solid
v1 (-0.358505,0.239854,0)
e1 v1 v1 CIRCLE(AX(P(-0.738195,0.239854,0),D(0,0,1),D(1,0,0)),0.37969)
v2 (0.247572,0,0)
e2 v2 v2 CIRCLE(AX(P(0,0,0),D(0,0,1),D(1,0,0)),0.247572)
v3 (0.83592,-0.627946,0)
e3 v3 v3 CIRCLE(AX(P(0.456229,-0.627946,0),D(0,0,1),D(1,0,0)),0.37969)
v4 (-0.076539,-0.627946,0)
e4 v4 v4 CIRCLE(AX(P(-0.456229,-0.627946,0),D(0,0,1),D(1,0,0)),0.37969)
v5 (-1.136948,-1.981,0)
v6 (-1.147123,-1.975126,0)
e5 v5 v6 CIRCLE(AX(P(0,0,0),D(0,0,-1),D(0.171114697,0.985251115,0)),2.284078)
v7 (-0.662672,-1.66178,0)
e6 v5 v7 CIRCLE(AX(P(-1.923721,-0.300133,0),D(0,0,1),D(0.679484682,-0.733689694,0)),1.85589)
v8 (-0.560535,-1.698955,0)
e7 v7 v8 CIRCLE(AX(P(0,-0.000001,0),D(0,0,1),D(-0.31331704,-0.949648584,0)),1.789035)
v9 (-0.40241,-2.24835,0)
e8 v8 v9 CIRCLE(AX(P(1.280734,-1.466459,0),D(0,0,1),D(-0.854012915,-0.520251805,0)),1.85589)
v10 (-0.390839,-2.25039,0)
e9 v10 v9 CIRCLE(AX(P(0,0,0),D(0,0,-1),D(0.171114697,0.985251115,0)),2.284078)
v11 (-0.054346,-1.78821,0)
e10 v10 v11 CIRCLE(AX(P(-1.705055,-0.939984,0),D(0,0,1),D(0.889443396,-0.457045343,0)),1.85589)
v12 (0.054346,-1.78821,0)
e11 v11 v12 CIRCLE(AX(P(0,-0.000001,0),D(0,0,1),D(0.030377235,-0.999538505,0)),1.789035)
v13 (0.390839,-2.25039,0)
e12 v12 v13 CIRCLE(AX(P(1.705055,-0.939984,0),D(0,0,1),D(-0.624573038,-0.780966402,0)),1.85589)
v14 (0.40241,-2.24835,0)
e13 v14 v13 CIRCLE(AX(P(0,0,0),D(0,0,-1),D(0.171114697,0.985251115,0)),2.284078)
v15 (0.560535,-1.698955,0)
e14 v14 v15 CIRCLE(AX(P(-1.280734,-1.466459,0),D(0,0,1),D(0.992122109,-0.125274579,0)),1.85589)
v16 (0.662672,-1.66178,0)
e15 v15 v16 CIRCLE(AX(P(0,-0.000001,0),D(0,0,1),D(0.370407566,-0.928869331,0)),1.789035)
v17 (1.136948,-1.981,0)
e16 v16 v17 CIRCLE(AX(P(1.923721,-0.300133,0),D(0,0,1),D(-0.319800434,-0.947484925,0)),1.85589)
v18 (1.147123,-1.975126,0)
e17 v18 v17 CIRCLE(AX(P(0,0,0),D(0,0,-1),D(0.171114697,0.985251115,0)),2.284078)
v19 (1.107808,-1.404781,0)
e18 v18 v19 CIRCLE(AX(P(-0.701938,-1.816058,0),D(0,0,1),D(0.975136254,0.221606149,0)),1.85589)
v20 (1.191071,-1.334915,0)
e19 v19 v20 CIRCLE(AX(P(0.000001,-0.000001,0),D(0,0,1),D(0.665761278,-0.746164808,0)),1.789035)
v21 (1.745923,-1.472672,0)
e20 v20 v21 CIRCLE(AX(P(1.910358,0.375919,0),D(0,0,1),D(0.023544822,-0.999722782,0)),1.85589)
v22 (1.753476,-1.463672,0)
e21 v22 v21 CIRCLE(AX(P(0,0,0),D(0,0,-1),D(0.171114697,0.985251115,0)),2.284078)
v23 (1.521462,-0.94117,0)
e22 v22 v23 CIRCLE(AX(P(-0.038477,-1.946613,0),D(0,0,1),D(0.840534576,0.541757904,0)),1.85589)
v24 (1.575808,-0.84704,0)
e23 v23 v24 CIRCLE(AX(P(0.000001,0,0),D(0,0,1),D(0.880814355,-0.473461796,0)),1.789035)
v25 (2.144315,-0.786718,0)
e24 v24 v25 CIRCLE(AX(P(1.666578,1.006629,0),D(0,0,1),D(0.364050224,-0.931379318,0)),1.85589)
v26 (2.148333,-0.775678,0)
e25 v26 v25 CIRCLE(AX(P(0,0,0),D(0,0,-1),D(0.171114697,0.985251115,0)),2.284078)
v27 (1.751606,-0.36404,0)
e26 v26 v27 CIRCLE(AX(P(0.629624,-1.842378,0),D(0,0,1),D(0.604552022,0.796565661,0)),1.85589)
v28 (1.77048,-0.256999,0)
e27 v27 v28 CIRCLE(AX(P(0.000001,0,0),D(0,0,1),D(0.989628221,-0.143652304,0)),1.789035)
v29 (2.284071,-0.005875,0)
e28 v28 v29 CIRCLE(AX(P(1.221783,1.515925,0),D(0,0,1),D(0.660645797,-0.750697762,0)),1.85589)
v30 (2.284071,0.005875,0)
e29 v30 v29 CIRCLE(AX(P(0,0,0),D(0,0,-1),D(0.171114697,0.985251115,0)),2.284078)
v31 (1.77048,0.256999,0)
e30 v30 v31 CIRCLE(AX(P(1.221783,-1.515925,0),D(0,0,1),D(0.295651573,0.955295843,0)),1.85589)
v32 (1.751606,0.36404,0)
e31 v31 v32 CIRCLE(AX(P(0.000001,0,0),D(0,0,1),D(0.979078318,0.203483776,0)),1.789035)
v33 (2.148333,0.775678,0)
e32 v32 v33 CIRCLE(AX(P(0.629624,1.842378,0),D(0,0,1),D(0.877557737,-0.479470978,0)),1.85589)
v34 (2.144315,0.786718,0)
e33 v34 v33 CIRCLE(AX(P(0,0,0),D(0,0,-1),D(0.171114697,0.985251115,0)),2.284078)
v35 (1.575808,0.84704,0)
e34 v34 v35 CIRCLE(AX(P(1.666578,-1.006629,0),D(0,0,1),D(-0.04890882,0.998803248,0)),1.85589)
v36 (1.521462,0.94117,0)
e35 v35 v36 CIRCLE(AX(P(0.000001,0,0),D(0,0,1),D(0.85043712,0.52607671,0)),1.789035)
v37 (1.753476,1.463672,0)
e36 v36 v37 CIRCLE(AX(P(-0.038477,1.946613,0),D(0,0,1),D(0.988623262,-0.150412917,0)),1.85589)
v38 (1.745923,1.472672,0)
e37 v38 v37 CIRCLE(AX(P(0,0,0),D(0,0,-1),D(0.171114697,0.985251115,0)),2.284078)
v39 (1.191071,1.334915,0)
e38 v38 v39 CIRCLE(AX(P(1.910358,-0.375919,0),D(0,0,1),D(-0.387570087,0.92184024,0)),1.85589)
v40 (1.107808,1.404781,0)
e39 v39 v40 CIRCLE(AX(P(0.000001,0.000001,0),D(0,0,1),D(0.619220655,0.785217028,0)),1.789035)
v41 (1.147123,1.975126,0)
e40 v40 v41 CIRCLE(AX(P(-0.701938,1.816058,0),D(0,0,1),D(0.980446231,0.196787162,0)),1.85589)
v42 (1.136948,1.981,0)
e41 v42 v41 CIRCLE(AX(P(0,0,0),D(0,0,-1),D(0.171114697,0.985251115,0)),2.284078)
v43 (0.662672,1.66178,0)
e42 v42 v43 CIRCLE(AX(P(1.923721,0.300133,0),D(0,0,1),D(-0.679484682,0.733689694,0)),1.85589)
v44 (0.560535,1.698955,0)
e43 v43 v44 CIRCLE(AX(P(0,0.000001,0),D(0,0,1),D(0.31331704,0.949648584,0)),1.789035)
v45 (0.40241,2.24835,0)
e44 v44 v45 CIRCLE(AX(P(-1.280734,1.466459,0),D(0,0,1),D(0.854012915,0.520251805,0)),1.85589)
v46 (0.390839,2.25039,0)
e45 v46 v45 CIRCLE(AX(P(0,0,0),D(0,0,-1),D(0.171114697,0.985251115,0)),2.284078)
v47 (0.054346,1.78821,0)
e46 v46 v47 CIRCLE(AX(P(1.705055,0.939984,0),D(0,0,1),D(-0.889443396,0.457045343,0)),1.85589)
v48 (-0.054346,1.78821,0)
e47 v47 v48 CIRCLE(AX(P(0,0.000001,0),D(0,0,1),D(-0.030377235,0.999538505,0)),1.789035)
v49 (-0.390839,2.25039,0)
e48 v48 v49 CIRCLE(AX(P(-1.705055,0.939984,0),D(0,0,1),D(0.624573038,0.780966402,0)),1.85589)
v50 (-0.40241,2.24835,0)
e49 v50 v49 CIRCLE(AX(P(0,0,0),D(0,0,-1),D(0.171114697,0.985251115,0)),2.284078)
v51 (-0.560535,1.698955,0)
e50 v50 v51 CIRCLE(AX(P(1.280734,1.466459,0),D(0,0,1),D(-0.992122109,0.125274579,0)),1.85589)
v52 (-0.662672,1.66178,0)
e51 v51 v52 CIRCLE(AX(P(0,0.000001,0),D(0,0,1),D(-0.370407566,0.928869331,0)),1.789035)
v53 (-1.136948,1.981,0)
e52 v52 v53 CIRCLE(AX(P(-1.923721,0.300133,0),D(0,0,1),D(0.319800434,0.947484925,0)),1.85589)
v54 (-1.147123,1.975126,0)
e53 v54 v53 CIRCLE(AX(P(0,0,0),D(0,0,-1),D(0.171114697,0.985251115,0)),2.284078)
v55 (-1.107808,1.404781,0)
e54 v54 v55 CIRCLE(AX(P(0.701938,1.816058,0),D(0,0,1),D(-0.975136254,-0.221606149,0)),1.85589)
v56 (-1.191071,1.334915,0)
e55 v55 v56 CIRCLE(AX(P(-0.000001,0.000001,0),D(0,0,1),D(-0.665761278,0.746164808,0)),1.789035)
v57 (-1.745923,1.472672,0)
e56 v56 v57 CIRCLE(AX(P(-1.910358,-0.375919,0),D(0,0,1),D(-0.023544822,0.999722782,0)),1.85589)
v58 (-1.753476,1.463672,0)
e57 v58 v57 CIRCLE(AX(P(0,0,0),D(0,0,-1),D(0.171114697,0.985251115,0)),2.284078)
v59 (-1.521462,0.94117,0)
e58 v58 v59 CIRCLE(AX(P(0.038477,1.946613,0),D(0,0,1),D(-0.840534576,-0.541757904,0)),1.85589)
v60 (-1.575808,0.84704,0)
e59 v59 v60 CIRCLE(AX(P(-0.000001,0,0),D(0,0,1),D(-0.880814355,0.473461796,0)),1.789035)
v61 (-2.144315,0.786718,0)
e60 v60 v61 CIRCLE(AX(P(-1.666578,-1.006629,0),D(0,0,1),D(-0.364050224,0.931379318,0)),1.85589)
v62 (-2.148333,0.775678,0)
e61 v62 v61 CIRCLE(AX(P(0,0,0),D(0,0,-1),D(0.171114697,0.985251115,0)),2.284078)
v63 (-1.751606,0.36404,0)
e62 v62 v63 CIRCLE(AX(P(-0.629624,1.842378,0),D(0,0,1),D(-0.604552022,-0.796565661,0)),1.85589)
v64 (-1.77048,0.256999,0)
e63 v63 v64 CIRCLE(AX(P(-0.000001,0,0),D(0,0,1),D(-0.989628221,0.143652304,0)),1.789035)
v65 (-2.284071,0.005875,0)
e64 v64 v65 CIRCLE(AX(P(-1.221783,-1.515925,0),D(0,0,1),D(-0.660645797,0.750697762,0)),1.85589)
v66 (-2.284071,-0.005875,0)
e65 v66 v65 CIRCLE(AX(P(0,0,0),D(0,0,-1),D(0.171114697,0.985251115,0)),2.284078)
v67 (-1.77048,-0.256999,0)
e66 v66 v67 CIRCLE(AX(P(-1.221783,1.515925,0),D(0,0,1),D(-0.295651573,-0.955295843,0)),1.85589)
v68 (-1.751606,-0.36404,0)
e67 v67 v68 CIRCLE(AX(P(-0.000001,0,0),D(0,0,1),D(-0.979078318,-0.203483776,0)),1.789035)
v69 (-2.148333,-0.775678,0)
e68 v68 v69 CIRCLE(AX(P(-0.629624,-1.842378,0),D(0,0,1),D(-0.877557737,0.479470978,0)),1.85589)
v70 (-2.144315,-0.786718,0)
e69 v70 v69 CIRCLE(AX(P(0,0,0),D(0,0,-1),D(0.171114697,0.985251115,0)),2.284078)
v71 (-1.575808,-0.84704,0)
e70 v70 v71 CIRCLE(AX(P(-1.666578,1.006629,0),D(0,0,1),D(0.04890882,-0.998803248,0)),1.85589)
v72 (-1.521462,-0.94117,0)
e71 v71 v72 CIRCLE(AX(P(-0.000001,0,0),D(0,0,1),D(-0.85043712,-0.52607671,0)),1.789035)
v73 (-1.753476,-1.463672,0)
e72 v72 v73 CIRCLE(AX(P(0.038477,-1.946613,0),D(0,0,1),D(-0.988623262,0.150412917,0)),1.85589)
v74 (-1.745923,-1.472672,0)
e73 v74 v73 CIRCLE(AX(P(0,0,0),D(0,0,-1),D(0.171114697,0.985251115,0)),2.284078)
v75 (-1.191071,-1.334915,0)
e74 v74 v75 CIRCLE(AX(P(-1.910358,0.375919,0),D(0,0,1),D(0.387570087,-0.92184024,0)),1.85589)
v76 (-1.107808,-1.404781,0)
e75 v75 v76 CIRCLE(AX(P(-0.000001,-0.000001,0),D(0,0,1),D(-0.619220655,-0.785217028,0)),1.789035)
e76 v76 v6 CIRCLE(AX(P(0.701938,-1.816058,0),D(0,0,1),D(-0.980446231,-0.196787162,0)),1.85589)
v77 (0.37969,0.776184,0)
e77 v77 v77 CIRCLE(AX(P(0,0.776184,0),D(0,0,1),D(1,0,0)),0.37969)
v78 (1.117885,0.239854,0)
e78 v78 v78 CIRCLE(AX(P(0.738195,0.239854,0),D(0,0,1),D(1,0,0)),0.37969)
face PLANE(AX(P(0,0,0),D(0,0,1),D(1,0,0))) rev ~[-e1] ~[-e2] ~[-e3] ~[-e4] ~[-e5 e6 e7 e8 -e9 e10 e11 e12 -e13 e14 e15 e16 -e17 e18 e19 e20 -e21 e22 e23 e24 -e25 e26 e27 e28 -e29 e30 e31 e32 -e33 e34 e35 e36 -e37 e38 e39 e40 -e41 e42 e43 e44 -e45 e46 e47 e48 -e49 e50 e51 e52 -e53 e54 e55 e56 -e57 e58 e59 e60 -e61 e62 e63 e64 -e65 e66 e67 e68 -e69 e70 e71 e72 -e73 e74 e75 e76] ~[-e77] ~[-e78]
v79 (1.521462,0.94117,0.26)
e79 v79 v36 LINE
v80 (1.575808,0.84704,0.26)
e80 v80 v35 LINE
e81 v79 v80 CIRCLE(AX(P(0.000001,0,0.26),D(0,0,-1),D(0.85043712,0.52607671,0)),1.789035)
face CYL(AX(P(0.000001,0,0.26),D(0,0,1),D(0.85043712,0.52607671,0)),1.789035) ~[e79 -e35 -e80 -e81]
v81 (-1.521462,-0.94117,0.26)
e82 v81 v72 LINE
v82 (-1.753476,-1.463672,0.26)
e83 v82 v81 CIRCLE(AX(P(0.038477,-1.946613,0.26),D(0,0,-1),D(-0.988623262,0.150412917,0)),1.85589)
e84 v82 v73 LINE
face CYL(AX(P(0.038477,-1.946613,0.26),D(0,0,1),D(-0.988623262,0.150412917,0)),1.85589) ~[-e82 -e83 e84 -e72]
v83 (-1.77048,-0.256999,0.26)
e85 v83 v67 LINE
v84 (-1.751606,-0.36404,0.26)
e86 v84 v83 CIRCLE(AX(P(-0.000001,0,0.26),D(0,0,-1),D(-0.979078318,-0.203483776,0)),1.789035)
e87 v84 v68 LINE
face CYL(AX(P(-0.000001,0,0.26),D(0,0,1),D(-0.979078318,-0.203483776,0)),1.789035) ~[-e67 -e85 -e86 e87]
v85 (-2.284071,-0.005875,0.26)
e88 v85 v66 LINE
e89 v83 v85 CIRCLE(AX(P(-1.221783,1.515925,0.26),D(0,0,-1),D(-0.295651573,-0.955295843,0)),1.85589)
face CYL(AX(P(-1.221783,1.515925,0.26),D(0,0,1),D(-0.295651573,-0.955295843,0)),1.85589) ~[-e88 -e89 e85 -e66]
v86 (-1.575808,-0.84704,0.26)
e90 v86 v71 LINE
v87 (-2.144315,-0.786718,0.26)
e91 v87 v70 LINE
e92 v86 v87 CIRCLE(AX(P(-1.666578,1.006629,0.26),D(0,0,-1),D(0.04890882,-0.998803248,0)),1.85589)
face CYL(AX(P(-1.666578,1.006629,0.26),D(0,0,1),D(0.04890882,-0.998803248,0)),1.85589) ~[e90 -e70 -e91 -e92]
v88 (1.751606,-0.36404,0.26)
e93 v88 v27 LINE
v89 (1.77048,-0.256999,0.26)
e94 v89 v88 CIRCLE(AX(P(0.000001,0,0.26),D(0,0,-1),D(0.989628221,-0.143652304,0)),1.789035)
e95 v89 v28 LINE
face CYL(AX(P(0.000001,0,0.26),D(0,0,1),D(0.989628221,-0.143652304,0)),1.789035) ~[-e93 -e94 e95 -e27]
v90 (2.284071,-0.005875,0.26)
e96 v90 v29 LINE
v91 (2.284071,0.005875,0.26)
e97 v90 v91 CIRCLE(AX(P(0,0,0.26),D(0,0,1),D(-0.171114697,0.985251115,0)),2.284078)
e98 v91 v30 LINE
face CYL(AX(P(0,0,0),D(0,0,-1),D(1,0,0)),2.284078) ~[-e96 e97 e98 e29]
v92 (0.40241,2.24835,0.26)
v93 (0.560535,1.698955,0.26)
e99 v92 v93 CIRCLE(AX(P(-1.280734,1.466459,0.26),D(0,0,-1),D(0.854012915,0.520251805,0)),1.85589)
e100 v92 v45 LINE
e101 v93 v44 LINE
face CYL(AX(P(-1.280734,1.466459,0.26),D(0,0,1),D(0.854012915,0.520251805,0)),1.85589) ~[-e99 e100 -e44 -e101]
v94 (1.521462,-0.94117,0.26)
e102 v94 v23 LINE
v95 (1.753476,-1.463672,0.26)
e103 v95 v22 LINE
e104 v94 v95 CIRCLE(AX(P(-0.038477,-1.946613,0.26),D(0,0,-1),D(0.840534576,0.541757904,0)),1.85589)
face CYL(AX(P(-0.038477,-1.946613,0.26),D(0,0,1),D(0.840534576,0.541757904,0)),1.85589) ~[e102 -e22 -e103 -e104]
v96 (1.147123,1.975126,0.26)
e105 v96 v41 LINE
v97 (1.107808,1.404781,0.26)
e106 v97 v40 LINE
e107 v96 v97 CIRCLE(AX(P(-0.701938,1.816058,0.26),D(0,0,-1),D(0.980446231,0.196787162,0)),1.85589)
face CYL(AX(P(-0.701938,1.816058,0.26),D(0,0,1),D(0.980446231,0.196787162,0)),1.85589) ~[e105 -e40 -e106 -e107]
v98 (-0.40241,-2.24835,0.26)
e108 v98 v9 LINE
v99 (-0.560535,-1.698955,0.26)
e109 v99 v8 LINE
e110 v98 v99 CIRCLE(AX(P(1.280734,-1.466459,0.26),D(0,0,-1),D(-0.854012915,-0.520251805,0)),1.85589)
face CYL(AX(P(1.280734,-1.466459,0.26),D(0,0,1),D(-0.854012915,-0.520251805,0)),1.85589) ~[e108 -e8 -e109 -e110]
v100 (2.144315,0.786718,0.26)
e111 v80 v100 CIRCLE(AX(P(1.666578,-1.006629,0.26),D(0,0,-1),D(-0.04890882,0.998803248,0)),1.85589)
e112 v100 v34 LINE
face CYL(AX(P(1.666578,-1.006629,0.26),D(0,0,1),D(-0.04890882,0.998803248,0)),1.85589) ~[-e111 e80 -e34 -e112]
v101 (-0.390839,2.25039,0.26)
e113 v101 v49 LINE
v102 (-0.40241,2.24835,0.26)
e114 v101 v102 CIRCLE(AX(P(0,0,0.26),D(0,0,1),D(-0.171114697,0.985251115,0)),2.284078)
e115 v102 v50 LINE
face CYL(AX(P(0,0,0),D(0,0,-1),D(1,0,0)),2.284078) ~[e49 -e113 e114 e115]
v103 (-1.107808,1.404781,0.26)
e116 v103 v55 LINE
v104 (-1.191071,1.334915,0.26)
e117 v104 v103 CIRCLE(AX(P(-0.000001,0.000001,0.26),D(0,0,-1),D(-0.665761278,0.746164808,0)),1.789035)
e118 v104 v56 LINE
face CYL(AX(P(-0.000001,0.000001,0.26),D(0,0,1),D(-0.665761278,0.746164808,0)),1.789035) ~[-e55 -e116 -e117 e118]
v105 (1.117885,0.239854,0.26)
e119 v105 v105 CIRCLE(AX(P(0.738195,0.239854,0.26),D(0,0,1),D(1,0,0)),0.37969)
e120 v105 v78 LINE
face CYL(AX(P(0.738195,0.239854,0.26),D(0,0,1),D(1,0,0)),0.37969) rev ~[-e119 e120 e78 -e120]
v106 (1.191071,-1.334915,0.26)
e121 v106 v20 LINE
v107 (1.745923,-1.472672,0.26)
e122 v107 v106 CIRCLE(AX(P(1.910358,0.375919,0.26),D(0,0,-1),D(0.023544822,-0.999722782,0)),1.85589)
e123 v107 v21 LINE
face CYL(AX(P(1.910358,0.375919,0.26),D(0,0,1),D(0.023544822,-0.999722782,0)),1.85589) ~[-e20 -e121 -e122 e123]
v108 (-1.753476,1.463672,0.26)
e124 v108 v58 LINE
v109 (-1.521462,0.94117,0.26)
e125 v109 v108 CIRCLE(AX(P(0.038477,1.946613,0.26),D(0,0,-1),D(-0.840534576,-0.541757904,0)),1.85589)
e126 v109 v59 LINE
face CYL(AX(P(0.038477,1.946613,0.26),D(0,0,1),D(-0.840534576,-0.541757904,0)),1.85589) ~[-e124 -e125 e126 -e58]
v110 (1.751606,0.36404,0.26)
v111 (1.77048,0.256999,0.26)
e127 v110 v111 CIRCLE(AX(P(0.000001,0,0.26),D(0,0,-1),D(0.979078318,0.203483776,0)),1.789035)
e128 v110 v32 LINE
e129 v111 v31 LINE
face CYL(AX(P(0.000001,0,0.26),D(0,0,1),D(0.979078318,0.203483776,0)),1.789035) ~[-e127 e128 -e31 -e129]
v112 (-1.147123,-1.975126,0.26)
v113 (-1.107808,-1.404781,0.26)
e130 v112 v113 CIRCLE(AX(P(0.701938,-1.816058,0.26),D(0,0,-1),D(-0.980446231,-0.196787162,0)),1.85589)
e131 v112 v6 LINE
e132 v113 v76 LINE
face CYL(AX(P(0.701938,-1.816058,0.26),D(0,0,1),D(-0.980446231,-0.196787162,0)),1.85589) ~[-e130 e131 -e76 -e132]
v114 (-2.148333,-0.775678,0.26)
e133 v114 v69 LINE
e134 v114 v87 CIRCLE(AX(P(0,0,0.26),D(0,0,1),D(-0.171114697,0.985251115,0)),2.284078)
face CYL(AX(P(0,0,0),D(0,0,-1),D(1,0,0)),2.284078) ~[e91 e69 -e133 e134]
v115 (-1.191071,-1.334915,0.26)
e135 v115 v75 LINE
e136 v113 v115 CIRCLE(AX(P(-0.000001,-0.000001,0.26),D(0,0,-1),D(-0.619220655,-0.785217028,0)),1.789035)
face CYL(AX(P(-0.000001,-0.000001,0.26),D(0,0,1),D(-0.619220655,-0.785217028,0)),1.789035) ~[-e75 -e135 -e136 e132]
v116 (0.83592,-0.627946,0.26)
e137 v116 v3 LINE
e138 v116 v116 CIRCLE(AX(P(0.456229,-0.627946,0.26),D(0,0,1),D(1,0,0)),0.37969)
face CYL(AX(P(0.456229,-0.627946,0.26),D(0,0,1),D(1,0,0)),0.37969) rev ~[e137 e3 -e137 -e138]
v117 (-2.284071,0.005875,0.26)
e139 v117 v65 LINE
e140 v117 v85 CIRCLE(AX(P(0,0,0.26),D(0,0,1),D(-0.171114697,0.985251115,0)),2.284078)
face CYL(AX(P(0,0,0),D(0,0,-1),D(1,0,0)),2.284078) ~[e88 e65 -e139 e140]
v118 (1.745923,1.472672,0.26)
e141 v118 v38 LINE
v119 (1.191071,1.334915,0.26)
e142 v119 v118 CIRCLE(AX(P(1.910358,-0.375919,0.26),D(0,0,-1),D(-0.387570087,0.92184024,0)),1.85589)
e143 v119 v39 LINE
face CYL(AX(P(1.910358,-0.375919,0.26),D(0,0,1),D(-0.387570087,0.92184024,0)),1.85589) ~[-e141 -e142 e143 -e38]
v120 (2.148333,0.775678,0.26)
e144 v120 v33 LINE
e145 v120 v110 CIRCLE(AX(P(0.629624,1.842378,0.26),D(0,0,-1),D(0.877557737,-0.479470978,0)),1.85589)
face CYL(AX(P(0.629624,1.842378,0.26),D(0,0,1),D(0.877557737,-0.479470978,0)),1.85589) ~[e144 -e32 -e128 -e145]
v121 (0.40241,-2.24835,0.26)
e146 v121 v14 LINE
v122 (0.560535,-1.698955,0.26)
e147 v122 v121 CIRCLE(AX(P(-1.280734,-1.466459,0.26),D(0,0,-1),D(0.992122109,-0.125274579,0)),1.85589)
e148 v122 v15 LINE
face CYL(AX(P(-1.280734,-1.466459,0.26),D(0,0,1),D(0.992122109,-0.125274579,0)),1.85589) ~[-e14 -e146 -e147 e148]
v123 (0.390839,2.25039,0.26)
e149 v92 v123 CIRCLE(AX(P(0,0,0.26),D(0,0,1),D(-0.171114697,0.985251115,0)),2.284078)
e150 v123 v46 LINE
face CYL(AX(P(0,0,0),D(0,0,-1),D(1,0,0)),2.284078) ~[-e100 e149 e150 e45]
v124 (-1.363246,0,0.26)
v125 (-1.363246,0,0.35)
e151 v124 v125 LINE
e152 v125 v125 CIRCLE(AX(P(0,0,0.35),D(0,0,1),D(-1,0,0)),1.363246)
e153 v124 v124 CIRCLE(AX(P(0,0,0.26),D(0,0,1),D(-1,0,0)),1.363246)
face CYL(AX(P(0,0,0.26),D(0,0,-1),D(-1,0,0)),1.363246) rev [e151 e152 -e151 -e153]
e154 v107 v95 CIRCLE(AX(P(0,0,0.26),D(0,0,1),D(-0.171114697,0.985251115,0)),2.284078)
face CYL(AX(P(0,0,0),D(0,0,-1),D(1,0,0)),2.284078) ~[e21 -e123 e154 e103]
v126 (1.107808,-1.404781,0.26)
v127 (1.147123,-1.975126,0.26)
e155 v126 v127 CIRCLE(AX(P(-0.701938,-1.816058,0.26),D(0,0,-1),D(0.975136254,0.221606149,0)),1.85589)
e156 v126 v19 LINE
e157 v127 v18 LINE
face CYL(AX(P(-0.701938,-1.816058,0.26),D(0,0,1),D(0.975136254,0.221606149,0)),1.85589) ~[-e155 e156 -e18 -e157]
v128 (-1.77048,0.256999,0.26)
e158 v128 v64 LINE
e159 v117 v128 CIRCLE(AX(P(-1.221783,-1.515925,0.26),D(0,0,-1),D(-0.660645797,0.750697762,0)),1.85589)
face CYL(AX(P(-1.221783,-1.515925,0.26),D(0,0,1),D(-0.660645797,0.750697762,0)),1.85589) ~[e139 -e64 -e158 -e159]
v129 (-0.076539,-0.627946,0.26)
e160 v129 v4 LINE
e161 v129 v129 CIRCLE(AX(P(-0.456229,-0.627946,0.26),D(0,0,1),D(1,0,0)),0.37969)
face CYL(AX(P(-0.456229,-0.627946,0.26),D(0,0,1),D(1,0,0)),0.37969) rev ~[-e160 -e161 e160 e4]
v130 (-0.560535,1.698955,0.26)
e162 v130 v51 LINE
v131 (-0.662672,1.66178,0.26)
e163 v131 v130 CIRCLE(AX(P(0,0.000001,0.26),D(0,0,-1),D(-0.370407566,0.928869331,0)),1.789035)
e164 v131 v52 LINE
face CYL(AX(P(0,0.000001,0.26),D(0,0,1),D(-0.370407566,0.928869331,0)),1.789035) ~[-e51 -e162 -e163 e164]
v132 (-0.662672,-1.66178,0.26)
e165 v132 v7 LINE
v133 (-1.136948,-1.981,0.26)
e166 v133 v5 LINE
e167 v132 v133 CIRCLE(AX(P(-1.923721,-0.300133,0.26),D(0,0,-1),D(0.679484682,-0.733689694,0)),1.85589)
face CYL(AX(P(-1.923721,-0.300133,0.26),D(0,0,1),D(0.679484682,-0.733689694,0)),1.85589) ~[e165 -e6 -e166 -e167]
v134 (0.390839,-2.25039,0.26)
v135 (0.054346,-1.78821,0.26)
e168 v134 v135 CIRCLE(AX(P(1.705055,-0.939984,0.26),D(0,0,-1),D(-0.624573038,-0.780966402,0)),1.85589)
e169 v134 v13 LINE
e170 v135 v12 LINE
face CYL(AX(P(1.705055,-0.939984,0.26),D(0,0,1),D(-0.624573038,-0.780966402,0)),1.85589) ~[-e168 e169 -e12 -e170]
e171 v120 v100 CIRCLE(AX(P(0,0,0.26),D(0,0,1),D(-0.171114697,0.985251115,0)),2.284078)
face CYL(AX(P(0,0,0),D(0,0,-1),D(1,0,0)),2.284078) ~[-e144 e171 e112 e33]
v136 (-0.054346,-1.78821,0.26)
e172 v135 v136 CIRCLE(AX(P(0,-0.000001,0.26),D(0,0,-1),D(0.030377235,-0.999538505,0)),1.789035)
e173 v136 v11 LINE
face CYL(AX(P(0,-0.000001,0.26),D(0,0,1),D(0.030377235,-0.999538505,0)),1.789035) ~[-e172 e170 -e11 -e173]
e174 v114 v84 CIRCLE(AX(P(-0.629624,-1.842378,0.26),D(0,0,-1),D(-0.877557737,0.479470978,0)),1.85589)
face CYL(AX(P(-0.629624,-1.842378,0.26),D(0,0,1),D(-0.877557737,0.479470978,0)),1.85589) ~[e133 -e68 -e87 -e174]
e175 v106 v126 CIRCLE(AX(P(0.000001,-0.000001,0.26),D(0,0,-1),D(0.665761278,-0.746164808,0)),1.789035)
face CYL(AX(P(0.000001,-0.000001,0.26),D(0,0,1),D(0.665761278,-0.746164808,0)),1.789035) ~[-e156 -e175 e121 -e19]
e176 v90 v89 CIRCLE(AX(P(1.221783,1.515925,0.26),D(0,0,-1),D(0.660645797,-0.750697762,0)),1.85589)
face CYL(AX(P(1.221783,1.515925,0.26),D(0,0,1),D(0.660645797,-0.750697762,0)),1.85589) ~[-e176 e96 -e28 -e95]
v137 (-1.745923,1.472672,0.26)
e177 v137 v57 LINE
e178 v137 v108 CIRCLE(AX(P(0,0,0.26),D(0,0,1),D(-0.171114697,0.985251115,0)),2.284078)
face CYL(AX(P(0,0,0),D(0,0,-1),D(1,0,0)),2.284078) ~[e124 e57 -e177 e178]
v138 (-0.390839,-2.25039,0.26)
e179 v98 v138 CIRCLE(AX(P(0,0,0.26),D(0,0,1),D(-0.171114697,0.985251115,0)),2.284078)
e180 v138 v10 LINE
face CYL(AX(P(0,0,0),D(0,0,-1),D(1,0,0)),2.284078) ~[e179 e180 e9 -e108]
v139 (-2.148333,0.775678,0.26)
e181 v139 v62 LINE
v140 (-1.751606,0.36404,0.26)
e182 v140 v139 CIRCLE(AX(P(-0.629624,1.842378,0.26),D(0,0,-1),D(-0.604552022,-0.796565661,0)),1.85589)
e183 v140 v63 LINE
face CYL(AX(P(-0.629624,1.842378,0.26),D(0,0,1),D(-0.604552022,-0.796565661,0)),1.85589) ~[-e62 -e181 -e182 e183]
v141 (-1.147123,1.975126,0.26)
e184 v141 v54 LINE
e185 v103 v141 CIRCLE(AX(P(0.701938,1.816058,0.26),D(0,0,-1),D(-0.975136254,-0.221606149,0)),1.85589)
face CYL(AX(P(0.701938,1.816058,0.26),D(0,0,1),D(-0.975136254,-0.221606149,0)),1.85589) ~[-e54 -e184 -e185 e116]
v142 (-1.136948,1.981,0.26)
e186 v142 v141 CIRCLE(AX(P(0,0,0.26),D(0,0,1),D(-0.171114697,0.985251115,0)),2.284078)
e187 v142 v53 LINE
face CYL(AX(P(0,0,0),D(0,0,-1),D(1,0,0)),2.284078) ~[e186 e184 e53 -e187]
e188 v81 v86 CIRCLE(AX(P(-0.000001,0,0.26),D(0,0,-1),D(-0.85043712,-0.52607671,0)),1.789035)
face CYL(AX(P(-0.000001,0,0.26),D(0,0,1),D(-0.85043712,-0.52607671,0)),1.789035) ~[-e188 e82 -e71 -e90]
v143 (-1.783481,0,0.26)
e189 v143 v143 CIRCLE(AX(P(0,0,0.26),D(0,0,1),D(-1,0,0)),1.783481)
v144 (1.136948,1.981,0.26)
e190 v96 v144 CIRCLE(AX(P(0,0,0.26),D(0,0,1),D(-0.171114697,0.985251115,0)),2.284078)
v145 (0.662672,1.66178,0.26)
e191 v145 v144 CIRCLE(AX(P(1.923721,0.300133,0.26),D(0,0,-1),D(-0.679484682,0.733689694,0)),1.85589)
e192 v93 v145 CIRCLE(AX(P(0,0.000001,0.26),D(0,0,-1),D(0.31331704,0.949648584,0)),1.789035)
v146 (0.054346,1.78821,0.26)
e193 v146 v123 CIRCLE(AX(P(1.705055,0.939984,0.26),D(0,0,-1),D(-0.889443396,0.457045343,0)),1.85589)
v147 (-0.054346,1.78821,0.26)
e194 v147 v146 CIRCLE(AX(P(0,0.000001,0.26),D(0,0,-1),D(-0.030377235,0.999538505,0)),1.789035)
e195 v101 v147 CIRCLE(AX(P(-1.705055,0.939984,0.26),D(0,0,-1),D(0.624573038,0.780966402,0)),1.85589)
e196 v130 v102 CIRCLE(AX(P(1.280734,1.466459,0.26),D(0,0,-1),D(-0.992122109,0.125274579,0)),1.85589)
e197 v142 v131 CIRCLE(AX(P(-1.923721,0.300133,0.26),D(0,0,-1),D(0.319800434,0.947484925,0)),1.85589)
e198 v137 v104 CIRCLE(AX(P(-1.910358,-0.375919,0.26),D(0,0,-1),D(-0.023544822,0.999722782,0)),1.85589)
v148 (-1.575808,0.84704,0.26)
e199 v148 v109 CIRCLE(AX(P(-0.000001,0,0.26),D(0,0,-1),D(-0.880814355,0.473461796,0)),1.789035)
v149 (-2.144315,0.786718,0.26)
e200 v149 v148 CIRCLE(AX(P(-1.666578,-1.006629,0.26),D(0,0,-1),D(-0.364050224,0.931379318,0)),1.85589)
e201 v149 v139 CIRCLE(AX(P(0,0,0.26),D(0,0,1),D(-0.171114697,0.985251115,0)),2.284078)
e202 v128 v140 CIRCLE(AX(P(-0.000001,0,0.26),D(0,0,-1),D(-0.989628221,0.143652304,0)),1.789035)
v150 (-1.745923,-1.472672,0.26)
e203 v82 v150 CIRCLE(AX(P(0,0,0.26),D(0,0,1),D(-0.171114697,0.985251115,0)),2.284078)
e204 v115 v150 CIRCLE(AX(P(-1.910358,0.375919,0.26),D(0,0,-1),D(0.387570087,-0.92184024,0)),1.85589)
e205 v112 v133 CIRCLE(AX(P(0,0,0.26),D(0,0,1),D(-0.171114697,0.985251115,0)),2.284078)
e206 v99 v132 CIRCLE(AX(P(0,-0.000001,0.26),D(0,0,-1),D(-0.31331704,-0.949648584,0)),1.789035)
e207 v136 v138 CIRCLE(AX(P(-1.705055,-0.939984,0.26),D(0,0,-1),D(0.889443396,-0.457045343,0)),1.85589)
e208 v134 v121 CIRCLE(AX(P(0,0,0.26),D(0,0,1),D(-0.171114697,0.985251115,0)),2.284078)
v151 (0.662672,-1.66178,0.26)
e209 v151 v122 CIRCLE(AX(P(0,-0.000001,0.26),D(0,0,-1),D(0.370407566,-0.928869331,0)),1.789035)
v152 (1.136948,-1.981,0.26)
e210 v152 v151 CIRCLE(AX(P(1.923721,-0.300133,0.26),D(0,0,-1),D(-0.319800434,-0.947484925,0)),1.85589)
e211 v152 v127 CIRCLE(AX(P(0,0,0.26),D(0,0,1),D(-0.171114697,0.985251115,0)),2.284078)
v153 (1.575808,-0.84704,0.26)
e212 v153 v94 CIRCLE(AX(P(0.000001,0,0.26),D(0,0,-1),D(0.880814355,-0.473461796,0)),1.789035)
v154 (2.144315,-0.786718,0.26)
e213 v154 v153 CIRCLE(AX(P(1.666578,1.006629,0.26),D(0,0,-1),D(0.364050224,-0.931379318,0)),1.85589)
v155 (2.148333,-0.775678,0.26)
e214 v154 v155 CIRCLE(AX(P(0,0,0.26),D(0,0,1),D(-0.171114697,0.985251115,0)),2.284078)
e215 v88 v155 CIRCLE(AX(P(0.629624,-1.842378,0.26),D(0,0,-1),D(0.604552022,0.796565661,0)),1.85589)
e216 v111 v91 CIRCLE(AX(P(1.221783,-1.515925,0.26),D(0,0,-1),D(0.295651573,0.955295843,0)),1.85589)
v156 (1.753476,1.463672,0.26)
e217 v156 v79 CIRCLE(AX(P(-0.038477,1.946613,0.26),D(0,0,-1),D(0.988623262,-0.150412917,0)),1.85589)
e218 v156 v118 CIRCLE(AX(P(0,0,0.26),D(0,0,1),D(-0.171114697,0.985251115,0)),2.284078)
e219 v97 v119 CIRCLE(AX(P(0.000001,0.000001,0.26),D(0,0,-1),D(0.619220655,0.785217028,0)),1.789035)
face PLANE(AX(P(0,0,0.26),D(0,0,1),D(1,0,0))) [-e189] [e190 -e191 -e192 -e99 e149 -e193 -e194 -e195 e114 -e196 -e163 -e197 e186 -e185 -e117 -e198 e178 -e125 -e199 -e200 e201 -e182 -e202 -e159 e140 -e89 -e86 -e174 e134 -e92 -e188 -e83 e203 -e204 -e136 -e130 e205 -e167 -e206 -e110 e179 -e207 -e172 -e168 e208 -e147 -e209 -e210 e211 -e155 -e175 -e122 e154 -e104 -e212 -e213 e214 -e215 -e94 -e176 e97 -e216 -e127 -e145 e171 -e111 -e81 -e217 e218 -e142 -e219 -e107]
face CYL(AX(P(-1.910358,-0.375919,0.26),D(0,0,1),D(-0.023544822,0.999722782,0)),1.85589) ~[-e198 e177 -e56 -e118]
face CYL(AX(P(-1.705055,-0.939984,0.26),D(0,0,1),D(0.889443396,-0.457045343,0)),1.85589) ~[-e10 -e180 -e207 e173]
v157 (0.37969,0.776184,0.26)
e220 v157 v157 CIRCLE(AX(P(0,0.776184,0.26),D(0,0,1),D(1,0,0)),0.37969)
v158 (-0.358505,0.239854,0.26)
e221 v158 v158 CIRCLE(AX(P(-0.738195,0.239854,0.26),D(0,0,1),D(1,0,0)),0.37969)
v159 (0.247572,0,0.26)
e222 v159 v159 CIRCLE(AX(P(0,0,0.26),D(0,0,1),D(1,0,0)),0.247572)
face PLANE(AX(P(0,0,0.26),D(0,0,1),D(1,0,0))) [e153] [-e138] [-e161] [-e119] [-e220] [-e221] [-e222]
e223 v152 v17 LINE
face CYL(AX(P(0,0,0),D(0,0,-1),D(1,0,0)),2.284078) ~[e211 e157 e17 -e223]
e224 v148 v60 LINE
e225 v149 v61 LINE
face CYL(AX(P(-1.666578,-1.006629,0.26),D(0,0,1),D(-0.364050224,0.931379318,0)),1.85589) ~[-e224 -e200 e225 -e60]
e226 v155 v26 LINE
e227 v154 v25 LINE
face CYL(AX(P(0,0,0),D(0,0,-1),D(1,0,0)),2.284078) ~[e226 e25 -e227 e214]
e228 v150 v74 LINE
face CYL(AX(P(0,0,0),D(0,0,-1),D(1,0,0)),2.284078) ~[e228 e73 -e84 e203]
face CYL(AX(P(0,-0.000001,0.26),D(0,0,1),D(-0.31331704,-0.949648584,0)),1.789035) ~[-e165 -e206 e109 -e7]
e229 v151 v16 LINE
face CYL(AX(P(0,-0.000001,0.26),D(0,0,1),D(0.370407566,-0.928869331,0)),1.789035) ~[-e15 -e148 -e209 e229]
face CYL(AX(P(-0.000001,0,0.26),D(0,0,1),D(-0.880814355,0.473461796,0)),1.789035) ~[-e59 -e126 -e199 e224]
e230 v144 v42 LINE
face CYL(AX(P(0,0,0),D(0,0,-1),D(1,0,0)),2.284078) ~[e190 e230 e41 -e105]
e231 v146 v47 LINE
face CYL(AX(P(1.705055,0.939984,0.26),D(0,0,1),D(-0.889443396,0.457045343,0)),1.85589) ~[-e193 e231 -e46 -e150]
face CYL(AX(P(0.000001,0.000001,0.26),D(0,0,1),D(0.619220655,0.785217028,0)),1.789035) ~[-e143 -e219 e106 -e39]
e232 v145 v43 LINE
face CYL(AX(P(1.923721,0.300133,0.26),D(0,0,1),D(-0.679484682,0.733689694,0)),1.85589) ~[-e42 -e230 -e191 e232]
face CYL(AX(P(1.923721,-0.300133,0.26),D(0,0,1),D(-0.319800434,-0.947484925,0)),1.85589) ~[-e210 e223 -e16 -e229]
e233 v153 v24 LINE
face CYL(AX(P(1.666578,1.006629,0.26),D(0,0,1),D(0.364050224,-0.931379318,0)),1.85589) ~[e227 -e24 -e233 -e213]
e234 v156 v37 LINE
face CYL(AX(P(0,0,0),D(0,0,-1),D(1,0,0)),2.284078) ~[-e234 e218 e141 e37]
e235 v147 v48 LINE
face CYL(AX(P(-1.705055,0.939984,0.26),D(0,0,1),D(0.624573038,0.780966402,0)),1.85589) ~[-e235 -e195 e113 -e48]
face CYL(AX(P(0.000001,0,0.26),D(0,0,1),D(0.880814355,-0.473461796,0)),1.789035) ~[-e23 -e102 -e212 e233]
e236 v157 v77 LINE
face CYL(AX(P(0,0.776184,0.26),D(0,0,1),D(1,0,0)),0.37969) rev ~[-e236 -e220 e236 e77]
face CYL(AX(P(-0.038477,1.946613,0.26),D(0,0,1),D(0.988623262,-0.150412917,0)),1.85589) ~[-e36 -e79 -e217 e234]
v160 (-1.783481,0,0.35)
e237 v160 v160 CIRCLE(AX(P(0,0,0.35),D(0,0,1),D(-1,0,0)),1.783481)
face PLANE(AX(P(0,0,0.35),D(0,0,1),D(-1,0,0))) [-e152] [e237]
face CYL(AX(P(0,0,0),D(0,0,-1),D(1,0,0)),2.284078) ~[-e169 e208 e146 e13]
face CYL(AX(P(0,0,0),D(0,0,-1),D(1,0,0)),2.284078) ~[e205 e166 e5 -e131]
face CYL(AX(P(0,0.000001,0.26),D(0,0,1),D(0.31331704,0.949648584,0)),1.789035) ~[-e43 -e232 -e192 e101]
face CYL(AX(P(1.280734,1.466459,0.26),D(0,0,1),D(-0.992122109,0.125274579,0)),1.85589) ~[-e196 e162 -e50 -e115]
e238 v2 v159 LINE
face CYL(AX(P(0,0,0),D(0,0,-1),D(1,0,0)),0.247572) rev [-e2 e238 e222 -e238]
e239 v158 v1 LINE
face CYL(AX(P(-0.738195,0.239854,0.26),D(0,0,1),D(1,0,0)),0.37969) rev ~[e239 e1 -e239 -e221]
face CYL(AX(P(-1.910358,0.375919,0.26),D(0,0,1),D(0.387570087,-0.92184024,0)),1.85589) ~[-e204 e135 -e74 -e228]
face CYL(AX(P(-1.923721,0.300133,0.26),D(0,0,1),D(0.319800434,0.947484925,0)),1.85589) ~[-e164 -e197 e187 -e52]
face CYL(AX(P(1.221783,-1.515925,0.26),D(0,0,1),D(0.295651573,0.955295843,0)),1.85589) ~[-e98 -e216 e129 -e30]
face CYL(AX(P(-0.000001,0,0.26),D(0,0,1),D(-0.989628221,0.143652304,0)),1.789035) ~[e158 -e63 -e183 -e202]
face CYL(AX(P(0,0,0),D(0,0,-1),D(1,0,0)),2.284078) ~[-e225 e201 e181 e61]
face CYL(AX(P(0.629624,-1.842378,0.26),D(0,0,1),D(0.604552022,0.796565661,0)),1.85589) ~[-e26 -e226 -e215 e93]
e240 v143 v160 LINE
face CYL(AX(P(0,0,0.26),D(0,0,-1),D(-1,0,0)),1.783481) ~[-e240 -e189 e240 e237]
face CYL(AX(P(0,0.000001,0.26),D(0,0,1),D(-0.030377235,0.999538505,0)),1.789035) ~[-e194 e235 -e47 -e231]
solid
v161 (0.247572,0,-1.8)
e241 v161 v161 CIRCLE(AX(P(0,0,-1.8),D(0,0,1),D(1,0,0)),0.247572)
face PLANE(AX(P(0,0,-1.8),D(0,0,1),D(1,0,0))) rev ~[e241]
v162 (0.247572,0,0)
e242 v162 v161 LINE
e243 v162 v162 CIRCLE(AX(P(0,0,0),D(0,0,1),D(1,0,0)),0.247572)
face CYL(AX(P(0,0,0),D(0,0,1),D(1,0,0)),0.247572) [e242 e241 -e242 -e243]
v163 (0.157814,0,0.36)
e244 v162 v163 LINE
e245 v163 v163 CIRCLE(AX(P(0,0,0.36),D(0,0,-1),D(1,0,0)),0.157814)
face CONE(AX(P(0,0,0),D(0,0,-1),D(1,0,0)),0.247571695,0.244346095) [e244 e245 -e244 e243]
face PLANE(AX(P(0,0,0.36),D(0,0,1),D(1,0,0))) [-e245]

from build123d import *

# Parameters (mm, degrees)
ESQUISSE1_R                  = 2.284078073
ESQUISSE1_R_2                = 0.247571695
BOSS_EXTRU_1_DEPTH           = 0.26
ESQUISSE1_2_R                = 0.247571695
BOSS_EXTRU_2_DEPTH           = 0.36
BOSS_EXTRU_2_TAPER           = 14
BOSS_EXTRU_2_OTHER_WAY_DEPTH = 1.8
ENL_V_MAT_EXTRU_2_DEPTH      = 0.3
R_P_TITION_CIRCULAIRE2_COUNT = 18
ESQUISSE6_R                  = 1.783481367
ESQUISSE6_R_2                = 1.363245537
BOSS_EXTRU_4_DEPTH           = 0.09
ESQUISSE7_R                  = 0.379690264
ENL_V_MAT_EXTRU_3_DEPTH      = 0.29


with BuildPart() as part:
    # Esquisse1 → Boss.-Extru.1 (new body)
    with BuildSketch(Plane.XY):
        Circle(ESQUISSE1_R)
        Circle(ESQUISSE1_R_2, mode=Mode.SUBTRACT)
    extrude(amount=BOSS_EXTRU_1_DEPTH)



with BuildPart() as body_2:
    # Esquisse1<2> → Boss.-Extru.2 (new body)
    with BuildSketch(Plane.XY):
        Circle(ESQUISSE1_2_R)
    extrude(amount=BOSS_EXTRU_2_DEPTH, taper=BOSS_EXTRU_2_TAPER)


with BuildPart() as part_1:
    add(part.part)

    add(body_2.part)  # Boss.-Extru.2 other way merges body 2
    # Esquisse1<2> → Boss.-Extru.2 other way (add)
    with BuildSketch(Plane.XY):
        Circle(ESQUISSE1_2_R)
    extrude(amount=-BOSS_EXTRU_2_OTHER_WAY_DEPTH)

    # Esquisse5 → Enlèv. mat.-Extru.2 (cut)
    with BuildSketch(Plane.XY.offset(0.26)):
        with BuildLine():
            ThreePointArc((0.545916178, 2.389371867), (0, 2.450943164), (-0.545916178, 2.389371867))
            ThreePointArc((-0.545916178, 2.389371867), (-0.268336451, 2.114789396), (-0.054345927, 1.788210011))
            ThreePointArc((-0.054345927, 1.788210011), (0, 1.789035641), (0.054345927, 1.788210011))
            ThreePointArc((0.054345927, 1.788210011), (0.268336451, 2.114789396), (0.545916178, 2.389371867))
        make_face()
    enl_v_mat_extru_2 = extrude(amount=-ENL_V_MAT_EXTRU_2_DEPTH, mode=Mode.SUBTRACT)

    # Répétition circulaire2: Enlèv. mat.-Extru.2 ×18 about axis
    r_p_tition_circulaire2_axis = Axis((0, 0, 0), (0, 0, 1))
    for i in range(1, R_P_TITION_CIRCULAIRE2_COUNT):
        add(enl_v_mat_extru_2.rotate(r_p_tition_circulaire2_axis, i * 360 / R_P_TITION_CIRCULAIRE2_COUNT), mode=Mode.SUBTRACT)

    # Esquisse6 → Boss.-Extru.4 (add)
    with BuildSketch(Plane.XY.offset(0.26)):
        with Locations(Location((0, 0, 0), (0, 0, 180))):
            Circle(ESQUISSE6_R)
        with Locations(Location((0, 0, 0), (0, 0, 180))):
            Circle(ESQUISSE6_R_2, mode=Mode.SUBTRACT)
    extrude(amount=BOSS_EXTRU_4_DEPTH)

    # Esquisse7 → Enlèv. mat.-Extru.3 (cut)
    with BuildSketch(Plane.XY.offset(0.26)):
        with Locations((0, 0.776183942)):
            Circle(ESQUISSE7_R)
        with Locations((0.738194796, 0.239854029)):
            Circle(ESQUISSE7_R)
        with Locations((0.456229474, -0.627946)):
            Circle(ESQUISSE7_R)
        with Locations((-0.456229474, -0.627946)):
            Circle(ESQUISSE7_R)
        with Locations((-0.738194796, 0.239854029)):
            Circle(ESQUISSE7_R)
    extrude(amount=-ENL_V_MAT_EXTRU_3_DEPTH, mode=Mode.SUBTRACT)


solid = part_1.part
